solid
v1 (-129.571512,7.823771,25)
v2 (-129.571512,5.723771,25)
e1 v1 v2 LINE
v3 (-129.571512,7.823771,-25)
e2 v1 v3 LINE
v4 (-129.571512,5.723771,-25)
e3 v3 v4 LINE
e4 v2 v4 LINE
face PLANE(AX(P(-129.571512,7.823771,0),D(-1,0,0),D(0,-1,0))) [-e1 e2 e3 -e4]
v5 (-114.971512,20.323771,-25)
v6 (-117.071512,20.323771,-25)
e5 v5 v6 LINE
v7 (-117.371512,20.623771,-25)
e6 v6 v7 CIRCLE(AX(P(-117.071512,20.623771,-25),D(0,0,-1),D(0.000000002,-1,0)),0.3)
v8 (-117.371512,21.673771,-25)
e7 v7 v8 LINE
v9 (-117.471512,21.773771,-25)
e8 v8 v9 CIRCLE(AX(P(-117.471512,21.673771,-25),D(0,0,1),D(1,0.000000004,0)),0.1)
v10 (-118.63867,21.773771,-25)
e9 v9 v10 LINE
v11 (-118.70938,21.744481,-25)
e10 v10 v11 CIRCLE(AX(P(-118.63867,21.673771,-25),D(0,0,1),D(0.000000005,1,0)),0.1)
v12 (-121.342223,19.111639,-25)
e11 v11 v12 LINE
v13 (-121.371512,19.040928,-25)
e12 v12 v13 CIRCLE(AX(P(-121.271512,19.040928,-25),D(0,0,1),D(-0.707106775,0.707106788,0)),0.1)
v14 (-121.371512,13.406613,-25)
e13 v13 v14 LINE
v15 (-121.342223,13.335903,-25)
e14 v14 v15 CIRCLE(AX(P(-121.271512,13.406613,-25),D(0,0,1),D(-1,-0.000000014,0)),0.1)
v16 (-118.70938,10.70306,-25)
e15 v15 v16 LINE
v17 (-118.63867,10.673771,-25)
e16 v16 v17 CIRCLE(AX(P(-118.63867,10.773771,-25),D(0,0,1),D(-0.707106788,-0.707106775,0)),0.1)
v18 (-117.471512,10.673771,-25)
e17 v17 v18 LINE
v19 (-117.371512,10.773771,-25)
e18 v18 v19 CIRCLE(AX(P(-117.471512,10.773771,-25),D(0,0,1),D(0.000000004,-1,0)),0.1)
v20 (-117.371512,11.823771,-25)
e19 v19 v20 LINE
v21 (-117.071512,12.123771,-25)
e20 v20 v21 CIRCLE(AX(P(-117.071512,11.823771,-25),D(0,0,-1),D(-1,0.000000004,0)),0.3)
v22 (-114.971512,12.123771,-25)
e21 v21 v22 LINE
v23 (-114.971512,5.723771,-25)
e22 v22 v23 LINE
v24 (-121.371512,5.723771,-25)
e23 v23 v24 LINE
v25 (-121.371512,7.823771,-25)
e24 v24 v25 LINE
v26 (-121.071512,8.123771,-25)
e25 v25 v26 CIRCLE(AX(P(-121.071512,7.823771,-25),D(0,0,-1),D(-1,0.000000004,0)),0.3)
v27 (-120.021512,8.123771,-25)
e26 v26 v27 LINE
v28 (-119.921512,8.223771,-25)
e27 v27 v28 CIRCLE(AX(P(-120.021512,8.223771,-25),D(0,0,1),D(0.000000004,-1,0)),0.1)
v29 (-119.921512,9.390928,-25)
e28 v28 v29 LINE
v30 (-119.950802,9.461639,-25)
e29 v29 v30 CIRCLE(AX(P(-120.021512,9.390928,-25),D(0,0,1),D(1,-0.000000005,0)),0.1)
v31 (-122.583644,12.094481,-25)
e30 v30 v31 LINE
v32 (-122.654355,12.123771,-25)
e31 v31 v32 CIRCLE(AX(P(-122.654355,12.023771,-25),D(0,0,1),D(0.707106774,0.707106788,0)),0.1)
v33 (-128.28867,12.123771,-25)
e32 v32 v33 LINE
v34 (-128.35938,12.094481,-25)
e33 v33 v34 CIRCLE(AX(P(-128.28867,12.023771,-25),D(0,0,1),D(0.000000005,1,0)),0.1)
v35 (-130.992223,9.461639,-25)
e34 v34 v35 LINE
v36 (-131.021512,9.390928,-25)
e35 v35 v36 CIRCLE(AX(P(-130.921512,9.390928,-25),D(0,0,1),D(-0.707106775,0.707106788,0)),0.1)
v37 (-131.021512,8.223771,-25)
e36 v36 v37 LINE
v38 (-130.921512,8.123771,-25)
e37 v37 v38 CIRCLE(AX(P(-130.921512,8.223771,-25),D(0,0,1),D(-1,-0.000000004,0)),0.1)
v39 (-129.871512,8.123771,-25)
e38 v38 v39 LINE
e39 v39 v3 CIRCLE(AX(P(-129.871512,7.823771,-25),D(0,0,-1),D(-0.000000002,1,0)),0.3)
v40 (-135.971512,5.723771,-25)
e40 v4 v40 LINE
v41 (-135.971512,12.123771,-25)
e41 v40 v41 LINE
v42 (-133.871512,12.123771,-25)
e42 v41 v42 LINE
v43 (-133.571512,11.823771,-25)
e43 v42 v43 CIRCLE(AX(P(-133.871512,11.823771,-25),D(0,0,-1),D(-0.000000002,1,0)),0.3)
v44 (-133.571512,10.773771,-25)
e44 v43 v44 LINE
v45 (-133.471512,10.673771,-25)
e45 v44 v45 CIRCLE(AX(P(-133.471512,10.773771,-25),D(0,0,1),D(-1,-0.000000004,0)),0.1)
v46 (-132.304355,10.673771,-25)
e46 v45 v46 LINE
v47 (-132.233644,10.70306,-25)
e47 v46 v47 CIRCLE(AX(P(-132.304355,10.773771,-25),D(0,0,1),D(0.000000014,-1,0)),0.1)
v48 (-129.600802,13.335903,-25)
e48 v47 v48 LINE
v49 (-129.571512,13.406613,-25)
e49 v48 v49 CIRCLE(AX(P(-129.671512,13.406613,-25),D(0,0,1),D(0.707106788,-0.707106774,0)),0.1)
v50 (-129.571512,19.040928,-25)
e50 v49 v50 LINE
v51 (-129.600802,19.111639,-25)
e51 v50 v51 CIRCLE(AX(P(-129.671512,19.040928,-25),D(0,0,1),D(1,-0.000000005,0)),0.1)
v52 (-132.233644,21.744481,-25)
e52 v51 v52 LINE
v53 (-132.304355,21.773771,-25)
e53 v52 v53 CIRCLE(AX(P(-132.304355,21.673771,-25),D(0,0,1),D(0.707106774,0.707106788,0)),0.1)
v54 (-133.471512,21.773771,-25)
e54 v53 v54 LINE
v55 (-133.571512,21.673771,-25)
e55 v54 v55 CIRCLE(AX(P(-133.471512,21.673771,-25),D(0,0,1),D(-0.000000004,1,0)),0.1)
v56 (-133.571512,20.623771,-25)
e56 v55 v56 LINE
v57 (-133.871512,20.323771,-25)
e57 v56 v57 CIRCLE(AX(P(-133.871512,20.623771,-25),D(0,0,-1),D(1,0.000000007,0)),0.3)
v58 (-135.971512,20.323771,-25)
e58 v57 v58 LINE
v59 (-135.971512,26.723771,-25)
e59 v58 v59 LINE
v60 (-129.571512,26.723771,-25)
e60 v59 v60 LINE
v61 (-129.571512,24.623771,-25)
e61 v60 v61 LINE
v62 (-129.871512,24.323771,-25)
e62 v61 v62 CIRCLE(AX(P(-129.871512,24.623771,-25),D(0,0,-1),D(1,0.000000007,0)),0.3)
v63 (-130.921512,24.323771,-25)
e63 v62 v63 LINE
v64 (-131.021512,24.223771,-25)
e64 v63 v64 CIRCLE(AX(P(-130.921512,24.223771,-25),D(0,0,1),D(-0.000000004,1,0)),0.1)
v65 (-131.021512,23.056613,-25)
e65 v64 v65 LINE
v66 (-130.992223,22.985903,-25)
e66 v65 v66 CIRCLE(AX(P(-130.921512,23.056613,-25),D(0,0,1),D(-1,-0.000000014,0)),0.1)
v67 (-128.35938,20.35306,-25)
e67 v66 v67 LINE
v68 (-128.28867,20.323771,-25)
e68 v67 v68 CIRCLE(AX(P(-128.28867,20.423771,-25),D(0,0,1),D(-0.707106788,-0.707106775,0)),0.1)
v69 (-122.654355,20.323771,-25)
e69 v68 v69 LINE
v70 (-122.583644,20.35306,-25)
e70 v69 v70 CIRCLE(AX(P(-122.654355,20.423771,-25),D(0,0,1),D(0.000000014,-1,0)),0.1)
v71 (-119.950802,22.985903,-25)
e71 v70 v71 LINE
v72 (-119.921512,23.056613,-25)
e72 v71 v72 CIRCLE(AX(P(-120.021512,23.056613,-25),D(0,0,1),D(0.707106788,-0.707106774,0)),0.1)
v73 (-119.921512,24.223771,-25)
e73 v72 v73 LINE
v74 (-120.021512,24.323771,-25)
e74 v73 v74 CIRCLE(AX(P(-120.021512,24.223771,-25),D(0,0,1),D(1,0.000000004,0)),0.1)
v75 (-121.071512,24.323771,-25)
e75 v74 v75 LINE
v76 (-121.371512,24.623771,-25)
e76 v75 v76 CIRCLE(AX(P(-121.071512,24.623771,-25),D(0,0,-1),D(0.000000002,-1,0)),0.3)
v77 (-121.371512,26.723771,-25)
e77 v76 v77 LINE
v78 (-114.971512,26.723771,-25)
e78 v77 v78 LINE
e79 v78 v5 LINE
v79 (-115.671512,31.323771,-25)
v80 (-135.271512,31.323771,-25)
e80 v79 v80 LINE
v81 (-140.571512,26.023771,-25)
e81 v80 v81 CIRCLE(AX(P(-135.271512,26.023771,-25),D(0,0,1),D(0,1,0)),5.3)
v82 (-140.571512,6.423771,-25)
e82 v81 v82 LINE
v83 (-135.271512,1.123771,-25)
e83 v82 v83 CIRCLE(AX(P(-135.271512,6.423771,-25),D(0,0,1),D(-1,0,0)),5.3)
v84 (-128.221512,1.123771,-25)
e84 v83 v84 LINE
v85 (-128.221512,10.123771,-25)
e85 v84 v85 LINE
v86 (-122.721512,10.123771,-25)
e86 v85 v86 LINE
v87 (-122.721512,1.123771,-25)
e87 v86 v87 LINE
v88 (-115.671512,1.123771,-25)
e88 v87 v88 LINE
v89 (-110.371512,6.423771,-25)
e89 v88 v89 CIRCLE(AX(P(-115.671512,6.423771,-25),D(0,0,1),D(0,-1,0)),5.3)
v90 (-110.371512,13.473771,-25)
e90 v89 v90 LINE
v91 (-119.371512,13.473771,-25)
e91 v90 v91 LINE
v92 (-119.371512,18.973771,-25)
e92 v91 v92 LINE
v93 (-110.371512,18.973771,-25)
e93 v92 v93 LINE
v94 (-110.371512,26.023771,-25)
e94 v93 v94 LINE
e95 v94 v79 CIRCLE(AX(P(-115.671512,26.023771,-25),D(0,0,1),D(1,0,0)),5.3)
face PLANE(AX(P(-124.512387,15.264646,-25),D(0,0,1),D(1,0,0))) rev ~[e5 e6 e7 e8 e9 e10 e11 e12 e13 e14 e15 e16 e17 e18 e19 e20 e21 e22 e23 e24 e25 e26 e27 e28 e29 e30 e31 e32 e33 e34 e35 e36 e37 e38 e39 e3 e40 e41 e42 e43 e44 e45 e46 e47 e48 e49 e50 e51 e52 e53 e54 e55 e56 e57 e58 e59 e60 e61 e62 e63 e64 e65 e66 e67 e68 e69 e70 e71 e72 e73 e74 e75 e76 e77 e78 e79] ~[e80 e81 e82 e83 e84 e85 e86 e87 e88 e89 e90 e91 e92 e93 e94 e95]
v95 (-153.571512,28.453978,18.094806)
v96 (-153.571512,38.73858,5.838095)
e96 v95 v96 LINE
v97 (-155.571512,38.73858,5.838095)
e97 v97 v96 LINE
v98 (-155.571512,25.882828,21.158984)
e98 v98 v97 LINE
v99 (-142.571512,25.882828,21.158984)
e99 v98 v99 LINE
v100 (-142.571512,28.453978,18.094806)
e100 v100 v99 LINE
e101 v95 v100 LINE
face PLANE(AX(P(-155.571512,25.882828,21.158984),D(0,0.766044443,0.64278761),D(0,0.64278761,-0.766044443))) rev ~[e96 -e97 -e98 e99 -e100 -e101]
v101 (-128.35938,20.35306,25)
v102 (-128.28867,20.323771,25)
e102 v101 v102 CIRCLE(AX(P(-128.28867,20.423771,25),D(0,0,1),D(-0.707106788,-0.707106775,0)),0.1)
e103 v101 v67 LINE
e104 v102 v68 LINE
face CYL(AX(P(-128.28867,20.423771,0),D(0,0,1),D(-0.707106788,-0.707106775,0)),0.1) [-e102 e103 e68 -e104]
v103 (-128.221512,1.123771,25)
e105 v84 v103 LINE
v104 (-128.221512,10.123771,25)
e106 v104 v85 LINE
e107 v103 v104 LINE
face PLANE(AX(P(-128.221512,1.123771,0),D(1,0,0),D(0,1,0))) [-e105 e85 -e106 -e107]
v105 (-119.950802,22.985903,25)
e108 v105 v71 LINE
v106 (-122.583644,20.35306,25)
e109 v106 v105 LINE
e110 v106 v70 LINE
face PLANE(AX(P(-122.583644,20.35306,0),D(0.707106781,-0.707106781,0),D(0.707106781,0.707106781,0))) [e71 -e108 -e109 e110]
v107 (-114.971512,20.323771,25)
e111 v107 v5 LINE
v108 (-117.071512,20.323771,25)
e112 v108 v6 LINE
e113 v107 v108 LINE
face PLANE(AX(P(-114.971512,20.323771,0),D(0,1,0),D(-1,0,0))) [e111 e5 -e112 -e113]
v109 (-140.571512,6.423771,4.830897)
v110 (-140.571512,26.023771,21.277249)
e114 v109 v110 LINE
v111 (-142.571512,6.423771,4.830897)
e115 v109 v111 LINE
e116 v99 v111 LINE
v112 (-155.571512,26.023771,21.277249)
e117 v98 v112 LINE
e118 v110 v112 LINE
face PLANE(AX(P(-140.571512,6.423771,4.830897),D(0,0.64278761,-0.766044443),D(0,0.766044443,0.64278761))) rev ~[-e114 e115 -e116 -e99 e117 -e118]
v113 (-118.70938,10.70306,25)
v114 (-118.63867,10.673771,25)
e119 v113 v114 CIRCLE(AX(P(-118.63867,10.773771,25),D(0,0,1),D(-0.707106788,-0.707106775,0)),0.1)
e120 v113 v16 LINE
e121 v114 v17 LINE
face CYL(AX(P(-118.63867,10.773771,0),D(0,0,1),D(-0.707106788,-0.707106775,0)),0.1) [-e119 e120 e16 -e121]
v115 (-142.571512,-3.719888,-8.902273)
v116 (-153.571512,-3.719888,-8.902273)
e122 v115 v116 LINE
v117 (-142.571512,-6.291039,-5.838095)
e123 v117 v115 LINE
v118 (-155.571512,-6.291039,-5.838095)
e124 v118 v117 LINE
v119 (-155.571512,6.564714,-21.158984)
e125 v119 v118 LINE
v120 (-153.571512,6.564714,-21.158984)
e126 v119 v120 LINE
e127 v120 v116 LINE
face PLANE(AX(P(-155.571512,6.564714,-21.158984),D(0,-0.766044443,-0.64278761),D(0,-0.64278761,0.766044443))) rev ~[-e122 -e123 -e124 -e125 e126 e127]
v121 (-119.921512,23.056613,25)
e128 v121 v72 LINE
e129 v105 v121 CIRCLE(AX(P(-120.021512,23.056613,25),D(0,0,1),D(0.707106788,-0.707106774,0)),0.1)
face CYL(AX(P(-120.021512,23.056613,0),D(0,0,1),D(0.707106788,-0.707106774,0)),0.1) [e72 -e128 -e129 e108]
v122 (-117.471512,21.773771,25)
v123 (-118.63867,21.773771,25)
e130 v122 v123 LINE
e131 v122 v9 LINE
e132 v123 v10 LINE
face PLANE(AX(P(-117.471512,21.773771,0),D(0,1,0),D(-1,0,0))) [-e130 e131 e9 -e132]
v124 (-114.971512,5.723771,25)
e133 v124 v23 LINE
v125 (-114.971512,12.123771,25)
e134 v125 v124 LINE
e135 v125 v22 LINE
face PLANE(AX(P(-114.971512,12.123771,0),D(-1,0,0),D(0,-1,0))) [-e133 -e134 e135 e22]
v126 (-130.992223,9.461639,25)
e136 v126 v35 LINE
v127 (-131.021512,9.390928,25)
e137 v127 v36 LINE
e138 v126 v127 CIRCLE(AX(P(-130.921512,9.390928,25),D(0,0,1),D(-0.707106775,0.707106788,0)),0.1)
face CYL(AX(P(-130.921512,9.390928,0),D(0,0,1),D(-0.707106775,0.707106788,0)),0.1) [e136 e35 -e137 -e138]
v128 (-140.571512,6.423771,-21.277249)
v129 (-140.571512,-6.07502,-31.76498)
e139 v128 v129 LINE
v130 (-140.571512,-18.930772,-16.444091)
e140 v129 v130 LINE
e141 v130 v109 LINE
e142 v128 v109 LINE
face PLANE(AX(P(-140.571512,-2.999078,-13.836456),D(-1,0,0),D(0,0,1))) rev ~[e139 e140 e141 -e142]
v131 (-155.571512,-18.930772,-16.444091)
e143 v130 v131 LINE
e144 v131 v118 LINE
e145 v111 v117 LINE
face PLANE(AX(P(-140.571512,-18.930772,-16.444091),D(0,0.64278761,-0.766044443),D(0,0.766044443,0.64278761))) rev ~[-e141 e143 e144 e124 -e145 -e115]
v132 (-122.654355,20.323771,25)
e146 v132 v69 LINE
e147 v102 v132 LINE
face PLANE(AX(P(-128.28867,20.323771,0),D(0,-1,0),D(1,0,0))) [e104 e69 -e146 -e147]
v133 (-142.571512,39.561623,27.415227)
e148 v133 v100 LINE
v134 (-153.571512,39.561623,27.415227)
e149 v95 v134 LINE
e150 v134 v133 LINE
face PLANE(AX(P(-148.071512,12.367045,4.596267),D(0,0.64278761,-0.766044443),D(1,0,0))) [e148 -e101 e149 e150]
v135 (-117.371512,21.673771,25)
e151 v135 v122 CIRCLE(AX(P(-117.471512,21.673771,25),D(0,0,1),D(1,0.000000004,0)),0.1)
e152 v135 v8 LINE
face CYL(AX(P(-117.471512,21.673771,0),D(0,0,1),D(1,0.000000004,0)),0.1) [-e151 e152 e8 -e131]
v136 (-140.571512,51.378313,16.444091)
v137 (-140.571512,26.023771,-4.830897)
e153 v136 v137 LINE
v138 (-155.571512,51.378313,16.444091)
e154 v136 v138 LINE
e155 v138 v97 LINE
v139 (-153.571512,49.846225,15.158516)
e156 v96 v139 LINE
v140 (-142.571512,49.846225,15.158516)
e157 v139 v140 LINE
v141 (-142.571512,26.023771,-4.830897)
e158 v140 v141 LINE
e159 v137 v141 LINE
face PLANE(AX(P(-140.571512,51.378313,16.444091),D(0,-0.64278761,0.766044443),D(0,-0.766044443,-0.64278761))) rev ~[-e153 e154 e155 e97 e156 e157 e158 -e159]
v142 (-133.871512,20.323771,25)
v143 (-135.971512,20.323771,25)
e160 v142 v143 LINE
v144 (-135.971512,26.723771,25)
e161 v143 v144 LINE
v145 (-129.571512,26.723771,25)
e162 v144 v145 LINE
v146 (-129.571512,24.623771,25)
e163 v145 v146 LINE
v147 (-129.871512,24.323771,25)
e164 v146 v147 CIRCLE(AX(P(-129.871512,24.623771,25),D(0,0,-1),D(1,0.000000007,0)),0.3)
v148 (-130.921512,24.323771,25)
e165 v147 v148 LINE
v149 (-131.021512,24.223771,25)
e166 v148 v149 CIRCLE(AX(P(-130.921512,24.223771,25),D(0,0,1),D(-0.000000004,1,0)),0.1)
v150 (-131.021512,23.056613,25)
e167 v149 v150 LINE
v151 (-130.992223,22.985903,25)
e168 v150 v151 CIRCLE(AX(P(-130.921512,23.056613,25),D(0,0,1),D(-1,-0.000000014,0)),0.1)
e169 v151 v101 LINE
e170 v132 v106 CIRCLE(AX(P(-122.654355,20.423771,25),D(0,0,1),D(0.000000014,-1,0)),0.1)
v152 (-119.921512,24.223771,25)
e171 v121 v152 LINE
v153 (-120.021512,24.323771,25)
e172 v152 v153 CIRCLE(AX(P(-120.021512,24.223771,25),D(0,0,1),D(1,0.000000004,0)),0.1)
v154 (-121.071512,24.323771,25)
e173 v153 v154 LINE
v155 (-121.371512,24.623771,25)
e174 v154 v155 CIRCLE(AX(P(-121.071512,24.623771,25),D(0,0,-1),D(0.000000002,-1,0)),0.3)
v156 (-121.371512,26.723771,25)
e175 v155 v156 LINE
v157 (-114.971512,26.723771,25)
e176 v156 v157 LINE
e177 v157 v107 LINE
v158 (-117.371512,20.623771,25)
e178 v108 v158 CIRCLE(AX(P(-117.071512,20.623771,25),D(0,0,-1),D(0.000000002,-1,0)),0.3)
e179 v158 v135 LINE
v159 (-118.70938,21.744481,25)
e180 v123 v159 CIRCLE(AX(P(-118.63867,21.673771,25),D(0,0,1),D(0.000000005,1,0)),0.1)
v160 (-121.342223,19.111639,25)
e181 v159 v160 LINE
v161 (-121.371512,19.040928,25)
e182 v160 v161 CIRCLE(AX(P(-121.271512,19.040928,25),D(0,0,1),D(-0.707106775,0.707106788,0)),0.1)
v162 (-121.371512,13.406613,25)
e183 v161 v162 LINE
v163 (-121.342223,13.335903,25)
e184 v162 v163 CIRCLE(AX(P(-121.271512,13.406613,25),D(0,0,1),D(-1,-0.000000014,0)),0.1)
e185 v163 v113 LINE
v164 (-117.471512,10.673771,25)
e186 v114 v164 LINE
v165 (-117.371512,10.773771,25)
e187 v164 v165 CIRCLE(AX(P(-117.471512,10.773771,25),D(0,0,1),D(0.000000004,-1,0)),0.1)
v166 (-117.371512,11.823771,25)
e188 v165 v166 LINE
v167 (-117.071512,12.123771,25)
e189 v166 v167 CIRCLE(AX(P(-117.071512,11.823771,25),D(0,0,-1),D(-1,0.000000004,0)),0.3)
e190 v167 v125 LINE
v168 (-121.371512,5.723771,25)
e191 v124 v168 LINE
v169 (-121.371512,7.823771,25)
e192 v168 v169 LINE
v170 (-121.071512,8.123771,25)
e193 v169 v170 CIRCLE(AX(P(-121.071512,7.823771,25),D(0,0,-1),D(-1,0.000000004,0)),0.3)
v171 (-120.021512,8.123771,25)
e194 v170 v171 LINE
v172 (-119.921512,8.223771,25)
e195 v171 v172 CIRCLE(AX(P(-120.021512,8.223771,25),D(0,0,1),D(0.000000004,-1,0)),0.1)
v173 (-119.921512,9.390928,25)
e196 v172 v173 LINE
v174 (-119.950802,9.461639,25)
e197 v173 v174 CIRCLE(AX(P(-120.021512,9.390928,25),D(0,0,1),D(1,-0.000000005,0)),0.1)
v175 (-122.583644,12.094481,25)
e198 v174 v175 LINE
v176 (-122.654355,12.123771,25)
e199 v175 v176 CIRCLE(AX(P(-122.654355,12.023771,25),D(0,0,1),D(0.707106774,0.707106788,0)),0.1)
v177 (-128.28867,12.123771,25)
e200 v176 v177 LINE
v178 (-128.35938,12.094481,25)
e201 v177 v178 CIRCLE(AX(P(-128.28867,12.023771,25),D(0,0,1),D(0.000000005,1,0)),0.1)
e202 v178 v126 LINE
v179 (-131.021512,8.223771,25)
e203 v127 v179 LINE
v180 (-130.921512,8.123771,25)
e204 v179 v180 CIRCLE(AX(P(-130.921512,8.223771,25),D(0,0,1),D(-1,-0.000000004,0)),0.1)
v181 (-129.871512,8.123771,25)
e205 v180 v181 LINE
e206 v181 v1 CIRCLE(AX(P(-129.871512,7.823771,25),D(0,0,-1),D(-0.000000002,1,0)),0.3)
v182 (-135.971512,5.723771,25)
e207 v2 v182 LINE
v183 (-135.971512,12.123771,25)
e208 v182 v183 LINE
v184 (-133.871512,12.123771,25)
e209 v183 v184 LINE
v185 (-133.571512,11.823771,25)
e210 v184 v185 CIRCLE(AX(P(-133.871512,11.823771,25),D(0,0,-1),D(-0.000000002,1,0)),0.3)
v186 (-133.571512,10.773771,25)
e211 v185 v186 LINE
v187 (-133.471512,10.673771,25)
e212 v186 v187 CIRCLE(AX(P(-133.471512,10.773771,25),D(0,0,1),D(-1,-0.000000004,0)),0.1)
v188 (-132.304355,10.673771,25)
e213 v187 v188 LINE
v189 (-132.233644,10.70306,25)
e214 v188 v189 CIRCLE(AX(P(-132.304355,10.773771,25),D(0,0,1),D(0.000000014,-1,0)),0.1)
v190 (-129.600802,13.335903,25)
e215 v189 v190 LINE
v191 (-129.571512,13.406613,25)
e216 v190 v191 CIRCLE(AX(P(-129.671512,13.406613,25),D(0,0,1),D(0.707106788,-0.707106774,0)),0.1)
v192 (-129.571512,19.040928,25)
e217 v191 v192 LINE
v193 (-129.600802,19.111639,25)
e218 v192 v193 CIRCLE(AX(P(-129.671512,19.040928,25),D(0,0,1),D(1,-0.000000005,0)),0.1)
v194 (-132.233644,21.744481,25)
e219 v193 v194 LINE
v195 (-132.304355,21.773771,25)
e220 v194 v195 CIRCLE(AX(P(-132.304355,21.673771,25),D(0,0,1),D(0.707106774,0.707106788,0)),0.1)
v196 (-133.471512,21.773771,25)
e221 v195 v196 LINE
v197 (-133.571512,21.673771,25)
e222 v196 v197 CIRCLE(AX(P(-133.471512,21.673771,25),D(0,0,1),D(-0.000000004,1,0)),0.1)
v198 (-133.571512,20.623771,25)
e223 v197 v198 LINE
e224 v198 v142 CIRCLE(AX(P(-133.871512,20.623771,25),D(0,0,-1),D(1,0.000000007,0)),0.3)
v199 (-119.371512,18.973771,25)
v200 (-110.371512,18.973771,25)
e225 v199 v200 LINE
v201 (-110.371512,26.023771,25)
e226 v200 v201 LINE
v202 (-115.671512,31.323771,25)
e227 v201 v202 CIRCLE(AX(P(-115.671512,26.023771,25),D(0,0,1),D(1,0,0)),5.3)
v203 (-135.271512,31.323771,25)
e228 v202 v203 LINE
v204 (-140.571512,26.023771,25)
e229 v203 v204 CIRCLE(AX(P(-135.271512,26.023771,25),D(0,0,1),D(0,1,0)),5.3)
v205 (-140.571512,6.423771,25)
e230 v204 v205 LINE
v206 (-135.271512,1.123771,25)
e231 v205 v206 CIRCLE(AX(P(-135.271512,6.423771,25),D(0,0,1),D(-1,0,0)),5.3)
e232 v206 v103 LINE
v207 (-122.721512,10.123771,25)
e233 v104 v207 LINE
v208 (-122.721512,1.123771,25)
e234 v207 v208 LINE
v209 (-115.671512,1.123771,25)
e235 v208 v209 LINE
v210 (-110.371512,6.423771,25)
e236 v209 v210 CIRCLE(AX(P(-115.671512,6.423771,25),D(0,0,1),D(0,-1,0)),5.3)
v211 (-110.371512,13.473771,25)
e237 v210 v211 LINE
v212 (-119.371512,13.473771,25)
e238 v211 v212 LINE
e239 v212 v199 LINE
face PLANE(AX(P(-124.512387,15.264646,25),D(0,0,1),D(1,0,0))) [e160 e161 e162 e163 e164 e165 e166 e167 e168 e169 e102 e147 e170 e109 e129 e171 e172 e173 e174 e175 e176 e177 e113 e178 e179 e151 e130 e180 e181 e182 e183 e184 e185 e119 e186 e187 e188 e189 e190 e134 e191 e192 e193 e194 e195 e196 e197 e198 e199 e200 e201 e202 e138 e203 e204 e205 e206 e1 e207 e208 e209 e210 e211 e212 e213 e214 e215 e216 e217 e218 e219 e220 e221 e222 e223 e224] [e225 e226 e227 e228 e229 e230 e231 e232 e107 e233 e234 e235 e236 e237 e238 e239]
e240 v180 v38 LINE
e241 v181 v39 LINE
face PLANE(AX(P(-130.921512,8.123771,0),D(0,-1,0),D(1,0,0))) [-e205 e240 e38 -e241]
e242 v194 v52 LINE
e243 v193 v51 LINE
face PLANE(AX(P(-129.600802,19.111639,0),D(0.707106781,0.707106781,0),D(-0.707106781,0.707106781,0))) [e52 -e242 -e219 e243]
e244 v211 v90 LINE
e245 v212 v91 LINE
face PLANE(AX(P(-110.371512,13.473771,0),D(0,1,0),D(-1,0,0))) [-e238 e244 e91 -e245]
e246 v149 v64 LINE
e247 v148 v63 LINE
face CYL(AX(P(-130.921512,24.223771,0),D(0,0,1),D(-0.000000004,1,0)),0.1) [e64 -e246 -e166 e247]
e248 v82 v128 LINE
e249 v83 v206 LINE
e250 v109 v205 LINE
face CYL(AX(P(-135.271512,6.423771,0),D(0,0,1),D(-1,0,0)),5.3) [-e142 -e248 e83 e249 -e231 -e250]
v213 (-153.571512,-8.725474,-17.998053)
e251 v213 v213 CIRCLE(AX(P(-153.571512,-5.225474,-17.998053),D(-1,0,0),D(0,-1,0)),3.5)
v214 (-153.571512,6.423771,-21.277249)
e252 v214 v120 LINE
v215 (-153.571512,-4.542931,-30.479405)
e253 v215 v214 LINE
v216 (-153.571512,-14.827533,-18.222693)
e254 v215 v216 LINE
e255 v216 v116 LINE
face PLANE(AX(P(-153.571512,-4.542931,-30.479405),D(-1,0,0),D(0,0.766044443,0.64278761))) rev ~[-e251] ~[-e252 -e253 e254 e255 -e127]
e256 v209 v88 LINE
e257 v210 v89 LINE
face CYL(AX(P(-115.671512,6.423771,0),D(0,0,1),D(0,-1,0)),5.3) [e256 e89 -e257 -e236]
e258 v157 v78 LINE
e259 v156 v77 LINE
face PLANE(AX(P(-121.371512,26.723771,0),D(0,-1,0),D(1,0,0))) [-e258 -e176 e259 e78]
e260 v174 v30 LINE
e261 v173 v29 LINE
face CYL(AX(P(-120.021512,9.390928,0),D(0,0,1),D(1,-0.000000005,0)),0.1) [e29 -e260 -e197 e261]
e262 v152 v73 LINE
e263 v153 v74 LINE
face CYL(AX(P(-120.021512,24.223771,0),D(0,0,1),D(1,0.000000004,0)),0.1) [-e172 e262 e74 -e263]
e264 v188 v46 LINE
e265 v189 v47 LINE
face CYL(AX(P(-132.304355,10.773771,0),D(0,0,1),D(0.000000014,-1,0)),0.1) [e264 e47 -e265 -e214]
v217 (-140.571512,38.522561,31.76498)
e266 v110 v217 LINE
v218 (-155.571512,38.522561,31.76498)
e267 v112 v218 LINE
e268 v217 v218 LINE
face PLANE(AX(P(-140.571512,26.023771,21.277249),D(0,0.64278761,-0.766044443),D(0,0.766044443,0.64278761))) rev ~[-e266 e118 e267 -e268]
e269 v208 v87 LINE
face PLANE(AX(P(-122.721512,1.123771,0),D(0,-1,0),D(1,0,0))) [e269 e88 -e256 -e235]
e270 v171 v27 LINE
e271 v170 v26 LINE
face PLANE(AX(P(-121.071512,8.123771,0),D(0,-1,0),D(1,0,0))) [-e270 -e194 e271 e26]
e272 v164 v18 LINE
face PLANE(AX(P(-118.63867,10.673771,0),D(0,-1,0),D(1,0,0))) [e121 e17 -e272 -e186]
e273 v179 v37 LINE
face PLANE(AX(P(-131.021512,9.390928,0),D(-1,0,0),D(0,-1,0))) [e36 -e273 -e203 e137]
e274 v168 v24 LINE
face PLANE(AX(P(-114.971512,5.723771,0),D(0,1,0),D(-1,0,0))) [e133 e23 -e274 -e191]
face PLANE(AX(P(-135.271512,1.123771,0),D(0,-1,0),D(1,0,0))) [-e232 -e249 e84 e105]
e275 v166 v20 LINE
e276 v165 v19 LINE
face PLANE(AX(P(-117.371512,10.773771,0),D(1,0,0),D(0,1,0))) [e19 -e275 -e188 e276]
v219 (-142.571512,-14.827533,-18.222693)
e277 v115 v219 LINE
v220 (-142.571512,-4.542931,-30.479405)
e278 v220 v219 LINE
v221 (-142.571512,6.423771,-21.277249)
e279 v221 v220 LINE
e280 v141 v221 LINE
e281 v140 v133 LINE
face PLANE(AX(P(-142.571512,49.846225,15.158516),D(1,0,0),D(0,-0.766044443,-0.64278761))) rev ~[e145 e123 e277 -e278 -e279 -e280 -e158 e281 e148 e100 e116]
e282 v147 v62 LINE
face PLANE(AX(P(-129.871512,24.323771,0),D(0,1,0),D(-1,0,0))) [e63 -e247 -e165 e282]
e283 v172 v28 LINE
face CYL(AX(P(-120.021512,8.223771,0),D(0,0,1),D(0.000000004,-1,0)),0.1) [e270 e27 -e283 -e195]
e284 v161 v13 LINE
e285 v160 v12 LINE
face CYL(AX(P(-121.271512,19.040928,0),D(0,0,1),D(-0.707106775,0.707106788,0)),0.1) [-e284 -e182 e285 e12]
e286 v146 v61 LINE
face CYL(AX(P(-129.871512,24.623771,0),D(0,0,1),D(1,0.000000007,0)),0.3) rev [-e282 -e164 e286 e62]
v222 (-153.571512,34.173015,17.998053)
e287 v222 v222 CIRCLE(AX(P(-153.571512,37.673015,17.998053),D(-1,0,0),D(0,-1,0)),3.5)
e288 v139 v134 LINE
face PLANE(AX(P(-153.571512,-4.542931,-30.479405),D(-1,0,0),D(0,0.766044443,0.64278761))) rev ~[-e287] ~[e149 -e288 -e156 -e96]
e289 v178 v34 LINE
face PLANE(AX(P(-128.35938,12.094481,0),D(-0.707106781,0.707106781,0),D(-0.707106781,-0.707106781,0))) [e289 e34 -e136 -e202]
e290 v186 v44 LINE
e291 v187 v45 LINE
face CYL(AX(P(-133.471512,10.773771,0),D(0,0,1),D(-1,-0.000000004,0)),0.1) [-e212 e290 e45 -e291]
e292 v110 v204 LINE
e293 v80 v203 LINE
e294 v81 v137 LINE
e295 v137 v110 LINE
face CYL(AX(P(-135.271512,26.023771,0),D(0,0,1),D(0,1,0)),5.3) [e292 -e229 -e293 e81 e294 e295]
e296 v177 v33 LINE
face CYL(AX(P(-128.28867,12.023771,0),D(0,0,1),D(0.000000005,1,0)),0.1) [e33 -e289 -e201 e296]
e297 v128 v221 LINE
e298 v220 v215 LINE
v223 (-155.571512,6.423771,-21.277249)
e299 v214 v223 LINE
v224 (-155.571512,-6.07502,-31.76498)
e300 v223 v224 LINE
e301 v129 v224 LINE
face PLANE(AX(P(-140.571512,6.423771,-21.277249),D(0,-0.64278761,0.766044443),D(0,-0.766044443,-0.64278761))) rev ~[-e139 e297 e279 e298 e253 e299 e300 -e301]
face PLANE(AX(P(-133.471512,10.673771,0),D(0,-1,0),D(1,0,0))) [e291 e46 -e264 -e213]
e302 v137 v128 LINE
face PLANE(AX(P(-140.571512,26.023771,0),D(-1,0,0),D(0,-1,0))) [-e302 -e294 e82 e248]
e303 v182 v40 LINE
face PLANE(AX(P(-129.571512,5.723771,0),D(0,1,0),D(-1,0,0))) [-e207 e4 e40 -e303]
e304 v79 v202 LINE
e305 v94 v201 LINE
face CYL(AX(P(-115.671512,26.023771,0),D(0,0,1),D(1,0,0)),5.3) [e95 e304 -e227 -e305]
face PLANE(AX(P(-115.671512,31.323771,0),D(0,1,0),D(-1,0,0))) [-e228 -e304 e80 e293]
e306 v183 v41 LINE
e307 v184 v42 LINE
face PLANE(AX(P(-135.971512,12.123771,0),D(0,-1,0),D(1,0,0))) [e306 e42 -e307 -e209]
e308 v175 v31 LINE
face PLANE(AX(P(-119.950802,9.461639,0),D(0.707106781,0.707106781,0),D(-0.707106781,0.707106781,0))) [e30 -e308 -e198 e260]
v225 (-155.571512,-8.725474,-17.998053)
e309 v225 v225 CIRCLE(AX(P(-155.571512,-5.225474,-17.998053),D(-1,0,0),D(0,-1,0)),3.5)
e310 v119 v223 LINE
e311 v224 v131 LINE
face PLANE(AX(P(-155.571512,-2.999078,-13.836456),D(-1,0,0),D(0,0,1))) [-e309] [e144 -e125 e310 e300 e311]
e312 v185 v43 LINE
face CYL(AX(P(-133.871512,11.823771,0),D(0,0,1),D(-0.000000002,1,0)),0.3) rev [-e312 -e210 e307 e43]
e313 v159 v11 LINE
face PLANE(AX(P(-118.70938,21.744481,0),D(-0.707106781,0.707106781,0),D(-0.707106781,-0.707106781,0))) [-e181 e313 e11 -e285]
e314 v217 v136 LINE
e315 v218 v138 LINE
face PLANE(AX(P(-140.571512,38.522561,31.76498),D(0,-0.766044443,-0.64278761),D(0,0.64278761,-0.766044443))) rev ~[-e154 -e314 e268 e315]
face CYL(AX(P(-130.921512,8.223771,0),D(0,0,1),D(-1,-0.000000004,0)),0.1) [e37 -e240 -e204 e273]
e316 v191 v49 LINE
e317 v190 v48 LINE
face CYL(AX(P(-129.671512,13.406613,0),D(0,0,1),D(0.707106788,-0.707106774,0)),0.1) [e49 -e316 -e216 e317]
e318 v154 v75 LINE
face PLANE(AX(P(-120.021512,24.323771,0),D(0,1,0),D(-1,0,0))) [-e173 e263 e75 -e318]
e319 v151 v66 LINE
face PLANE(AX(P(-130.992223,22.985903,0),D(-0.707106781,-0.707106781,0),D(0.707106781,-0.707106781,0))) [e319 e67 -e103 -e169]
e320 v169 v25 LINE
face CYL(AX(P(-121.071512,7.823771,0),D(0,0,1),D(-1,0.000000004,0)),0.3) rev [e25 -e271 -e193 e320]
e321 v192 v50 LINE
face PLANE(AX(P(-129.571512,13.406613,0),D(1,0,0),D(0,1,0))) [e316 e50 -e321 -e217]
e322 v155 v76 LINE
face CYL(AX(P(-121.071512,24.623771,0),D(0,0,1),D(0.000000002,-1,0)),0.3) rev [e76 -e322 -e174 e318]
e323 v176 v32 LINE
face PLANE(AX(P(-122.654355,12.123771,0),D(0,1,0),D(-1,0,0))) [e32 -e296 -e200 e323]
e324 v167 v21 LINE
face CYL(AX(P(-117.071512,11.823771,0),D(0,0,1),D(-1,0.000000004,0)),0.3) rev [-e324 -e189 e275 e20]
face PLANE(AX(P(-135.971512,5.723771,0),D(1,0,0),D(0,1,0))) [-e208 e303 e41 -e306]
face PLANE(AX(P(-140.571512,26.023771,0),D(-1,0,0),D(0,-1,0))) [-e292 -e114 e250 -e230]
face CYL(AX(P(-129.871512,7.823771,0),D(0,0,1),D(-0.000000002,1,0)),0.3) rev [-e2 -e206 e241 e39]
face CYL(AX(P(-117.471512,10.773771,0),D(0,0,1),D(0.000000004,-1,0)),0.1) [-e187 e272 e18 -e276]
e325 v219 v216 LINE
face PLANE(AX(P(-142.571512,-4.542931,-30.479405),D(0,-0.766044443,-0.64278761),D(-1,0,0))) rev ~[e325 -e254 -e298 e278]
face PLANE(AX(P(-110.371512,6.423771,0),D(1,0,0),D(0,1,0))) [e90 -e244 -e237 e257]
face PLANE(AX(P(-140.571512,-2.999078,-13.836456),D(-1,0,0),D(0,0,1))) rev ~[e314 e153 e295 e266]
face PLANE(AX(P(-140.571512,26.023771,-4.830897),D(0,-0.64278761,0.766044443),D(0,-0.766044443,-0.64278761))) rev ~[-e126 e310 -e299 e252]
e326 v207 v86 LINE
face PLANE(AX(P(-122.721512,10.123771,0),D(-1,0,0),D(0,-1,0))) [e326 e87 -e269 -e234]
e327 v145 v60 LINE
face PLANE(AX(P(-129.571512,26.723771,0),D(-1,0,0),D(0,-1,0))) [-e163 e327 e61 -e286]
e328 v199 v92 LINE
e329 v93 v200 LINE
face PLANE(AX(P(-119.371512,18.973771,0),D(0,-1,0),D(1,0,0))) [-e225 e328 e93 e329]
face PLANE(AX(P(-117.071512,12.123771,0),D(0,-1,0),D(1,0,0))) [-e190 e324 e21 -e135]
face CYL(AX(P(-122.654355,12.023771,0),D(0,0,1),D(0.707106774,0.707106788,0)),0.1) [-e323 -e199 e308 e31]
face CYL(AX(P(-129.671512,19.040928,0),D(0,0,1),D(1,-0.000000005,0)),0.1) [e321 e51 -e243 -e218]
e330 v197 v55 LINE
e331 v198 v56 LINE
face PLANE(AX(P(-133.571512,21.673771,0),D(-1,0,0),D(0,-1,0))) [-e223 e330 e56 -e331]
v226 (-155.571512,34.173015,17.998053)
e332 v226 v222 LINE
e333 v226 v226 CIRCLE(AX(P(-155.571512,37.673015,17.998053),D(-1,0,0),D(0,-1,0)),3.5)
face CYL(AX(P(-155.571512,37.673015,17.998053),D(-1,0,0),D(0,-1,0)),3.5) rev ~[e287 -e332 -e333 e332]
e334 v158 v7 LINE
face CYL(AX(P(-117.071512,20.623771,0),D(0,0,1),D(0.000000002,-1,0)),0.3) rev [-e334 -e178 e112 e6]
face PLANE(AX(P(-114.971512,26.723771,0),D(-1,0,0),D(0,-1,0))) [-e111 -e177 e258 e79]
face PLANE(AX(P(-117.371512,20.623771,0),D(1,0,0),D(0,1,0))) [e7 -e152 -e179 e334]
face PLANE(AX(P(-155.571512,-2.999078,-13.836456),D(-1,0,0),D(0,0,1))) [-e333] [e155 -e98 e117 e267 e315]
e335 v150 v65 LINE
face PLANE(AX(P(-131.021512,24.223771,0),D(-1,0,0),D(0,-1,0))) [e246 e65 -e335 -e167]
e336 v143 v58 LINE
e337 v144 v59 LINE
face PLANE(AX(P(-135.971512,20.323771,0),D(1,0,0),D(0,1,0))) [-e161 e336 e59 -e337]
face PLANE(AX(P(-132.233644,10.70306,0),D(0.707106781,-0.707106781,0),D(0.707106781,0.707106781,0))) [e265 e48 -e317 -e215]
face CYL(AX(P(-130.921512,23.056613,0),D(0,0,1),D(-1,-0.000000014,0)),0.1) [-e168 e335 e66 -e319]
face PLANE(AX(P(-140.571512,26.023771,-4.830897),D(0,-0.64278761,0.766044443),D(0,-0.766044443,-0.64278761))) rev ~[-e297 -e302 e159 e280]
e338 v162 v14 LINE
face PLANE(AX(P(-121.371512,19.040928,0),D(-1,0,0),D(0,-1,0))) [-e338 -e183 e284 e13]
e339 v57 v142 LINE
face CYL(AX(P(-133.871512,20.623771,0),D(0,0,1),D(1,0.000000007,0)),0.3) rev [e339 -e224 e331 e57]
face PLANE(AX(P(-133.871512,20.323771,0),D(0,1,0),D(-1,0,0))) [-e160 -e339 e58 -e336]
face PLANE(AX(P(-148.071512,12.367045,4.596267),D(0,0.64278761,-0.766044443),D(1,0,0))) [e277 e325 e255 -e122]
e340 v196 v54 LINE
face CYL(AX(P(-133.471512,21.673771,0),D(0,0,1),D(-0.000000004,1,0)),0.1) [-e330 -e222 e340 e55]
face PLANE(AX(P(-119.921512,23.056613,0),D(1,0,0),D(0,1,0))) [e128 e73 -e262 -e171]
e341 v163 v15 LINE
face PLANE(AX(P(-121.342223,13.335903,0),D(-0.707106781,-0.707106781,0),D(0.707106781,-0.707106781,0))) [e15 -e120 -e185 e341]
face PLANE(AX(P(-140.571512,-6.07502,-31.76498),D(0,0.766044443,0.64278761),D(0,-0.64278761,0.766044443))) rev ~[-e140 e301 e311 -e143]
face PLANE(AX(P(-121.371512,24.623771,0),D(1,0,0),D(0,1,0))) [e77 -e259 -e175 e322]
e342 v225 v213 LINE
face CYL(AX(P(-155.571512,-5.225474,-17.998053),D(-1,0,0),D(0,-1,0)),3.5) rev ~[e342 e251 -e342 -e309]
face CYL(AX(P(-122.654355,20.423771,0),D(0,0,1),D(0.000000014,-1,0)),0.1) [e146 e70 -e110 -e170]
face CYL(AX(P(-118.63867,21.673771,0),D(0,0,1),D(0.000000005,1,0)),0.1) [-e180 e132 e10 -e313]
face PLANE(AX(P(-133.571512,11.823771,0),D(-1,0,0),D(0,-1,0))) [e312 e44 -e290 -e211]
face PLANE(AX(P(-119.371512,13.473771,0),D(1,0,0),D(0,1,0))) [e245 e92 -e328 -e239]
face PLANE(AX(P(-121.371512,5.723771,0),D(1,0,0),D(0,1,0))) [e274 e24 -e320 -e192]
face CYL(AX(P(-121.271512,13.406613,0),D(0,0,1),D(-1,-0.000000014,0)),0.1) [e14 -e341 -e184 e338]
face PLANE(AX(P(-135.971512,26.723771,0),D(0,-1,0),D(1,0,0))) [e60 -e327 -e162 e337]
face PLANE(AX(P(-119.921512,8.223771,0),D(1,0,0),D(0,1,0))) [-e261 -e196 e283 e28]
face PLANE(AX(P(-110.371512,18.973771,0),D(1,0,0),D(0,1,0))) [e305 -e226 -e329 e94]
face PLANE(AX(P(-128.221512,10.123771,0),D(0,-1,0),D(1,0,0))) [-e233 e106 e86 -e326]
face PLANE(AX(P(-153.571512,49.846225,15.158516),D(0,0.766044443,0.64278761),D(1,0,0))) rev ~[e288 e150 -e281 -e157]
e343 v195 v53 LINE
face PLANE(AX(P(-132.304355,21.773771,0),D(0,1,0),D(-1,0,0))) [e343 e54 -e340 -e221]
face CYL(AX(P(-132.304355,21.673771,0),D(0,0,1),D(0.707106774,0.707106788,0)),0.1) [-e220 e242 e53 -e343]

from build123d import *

# Parameters (mm, degrees)
Y_KSEKLIK_EKSTR_ZYON3_DEPTH = 25
Y_KSEKLIK_EKSTR_ZYON4_DEPTH = 15
IZIM11_R                    = 3.5
KES_EKSTR_ZYON3_DEPTH       = 10
KES_EKSTR_ZYON4_DEPTH       = 16
KES_EKSTR_ZYON5_REACH       = 77.444


with BuildPart() as part:
    # Çizim6 → Yükseklik-Ekstrüzyon3 (new, symmetric)
    with BuildSketch(Plane.XY):
        with BuildLine():
            Line((-119.371512251, 18.973770729), (-115.371512251, 18.973770729))
            Line((-115.371512251, 18.973770729), (-110.371512251, 18.973770729))
            Line((-110.371512251, 18.973770729), (-110.371512251, 20.773770729))
            Line((-110.371512251, 20.773770729), (-110.371512251, 26.023770729))
            ThreePointArc((-110.371512251, 26.023770729), (-111.92384631, 29.771436669), (-115.671512251, 31.323770729))
            Line((-115.671512251, 31.323770729), (-120.921512251, 31.323770729))
            Line((-120.921512251, 31.323770729), (-122.721512251, 31.323770729))
            Line((-122.721512251, 31.323770729), (-128.221512251, 31.323770729))
            Line((-128.221512251, 31.323770729), (-130.021512251, 31.323770729))
            Line((-130.021512251, 31.323770729), (-135.271512251, 31.323770729))
            ThreePointArc((-135.271512251, 31.323770729), (-139.019178191, 29.771436669), (-140.571512251, 26.023770729))
            Line((-140.571512251, 26.023770729), (-140.571512251, 20.773770729))
            Line((-140.571512251, 20.773770729), (-140.571512251, 16.223770729))
            Line((-140.571512251, 16.223770729), (-140.571512251, 11.673770729))
            Line((-140.571512251, 11.673770729), (-140.571512251, 6.423770729))
            ThreePointArc((-140.571512251, 6.423770729), (-139.019178191, 2.676104789), (-135.271512251, 1.123770729))
            Line((-135.271512251, 1.123770729), (-130.021512251, 1.123770729))
            Line((-130.021512251, 1.123770729), (-128.221512251, 1.123770729))
            Line((-128.221512251, 1.123770729), (-128.221512251, 6.123770729))
            Line((-128.221512251, 6.123770729), (-128.221512251, 10.123770729))
            Line((-128.221512251, 10.123770729), (-122.721512251, 10.123770729))
            Line((-122.721512251, 10.123770729), (-122.721512251, 6.123770729))
            Line((-122.721512251, 6.123770729), (-122.721512251, 1.123770729))
            Line((-122.721512251, 1.123770729), (-120.921512251, 1.123770729))
            Line((-120.921512251, 1.123770729), (-115.671512251, 1.123770729))
            ThreePointArc((-115.671512251, 1.123770729), (-111.92384631, 2.676104789), (-110.371512251, 6.423770729))
            Line((-110.371512251, 6.423770729), (-110.371512251, 11.673770729))
            Line((-110.371512251, 11.673770729), (-110.371512251, 13.473770729))
            Line((-110.371512251, 13.473770729), (-115.371512251, 13.473770729))
            Line((-115.371512251, 13.473770729), (-119.371512251, 13.473770729))
            Line((-119.371512251, 13.473770729), (-119.371512251, 18.973770729))
        make_face()
        with BuildLine():
            Line((-133.871512251, 20.323770729), (-135.071512251, 20.323770729))
            Line((-135.071512251, 20.323770729), (-135.871512251, 20.323770729))
            Line((-135.871512251, 20.323770729), (-135.971512251, 20.323770729))
            Line((-135.971512251, 20.323770729), (-135.971512251, 26.723770729))
            Line((-135.971512251, 26.723770729), (-129.571512251, 26.723770729))
            Line((-129.571512251, 26.723770729), (-129.571512251, 26.623770729))
            Line((-129.571512251, 26.623770729), (-129.571512251, 25.823770729))
            Line((-129.571512251, 25.823770729), (-129.571512251, 24.623770729))
            ThreePointArc((-129.571512251, 24.623770729), (-129.659380216, 24.411638694), (-129.871512251, 24.323770729))
            Line((-129.871512251, 24.323770729), (-130.921512251, 24.323770729))
            ThreePointArc((-130.921512251, 24.323770729), (-130.992222929, 24.294481407), (-131.021512251, 24.223770729))
            Line((-131.021512251, 24.223770729), (-131.021512251, 23.056613441))
            ThreePointArc((-131.021512251, 23.056613441), (-131.013900204, 23.018345098), (-130.992222929, 22.985902763))
            Line((-130.992222929, 22.985902763), (-128.359380216, 20.353060051))
            ThreePointArc((-128.359380216, 20.353060051), (-128.326937882, 20.331382776), (-128.288669538, 20.323770729))
            Line((-128.288669538, 20.323770729), (-122.654354963, 20.323770729))
            ThreePointArc((-122.654354963, 20.323770729), (-122.61608662, 20.331382776), (-122.583644285, 20.353060051))
            Line((-122.583644285, 20.353060051), (-119.950801573, 22.985902763))
            ThreePointArc((-119.950801573, 22.985902763), (-119.929124298, 23.018345098), (-119.921512251, 23.056613441))
            Line((-119.921512251, 23.056613441), (-119.921512251, 24.223770729))
            ThreePointArc((-119.921512251, 24.223770729), (-119.950801573, 24.294481407), (-120.021512251, 24.323770729))
            Line((-120.021512251, 24.323770729), (-121.071512251, 24.323770729))
            ThreePointArc((-121.071512251, 24.323770729), (-121.283644285, 24.411638694), (-121.371512251, 24.623770729))
            Line((-121.371512251, 24.623770729), (-121.371512251, 25.823770729))
            Line((-121.371512251, 25.823770729), (-121.371512251, 26.323770729))
            Line((-121.371512251, 26.323770729), (-121.371512251, 26.723770729))
            Line((-121.371512251, 26.723770729), (-114.971512251, 26.723770729))
            Line((-114.971512251, 26.723770729), (-114.971512251, 20.323770729))
            Line((-114.971512251, 20.323770729), (-115.371512251, 20.323770729))
            Line((-115.371512251, 20.323770729), (-115.871512251, 20.323770729))
            Line((-115.871512251, 20.323770729), (-117.071512251, 20.323770729))
            ThreePointArc((-117.071512251, 20.323770729), (-117.283644285, 20.411638694), (-117.371512251, 20.623770729))
            Line((-117.371512251, 20.623770729), (-117.371512251, 21.673770729))
            ThreePointArc((-117.371512251, 21.673770729), (-117.400801573, 21.744481407), (-117.471512251, 21.773770729))
            Line((-117.471512251, 21.773770729), (-118.638669538, 21.773770729))
            ThreePointArc((-118.638669538, 21.773770729), (-118.676937882, 21.766158682), (-118.709380216, 21.744481407))
            Line((-118.709380216, 21.744481407), (-121.342222929, 19.111638694))
            ThreePointArc((-121.342222929, 19.111638694), (-121.363900204, 19.07919636), (-121.371512251, 19.040928016))
            Line((-121.371512251, 19.040928016), (-121.371512251, 13.406613441))
            ThreePointArc((-121.371512251, 13.406613441), (-121.363900204, 13.368345098), (-121.342222929, 13.335902763))
            Line((-121.342222929, 13.335902763), (-118.709380216, 10.703060051))
            ThreePointArc((-118.709380216, 10.703060051), (-118.676937882, 10.681382776), (-118.638669538, 10.673770729))
            Line((-118.638669538, 10.673770729), (-117.471512251, 10.673770729))
            ThreePointArc((-117.471512251, 10.673770729), (-117.400801573, 10.703060051), (-117.371512251, 10.773770729))
            Line((-117.371512251, 10.773770729), (-117.371512251, 11.823770729))
            ThreePointArc((-117.371512251, 11.823770729), (-117.283644285, 12.035902763), (-117.071512251, 12.123770729))
            Line((-117.071512251, 12.123770729), (-115.871512251, 12.123770729))
            Line((-115.871512251, 12.123770729), (-115.371512251, 12.123770729))
            Line((-115.371512251, 12.123770729), (-114.971512251, 12.123770729))
            Line((-114.971512251, 12.123770729), (-114.971512251, 5.723770729))
            Line((-114.971512251, 5.723770729), (-121.371512251, 5.723770729))
            Line((-121.371512251, 5.723770729), (-121.371512251, 6.123770729))
            Line((-121.371512251, 6.123770729), (-121.371512251, 6.623770729))
            Line((-121.371512251, 6.623770729), (-121.371512251, 7.823770729))
            ThreePointArc((-121.371512251, 7.823770729), (-121.283644285, 8.035902763), (-121.071512251, 8.123770729))
            Line((-121.071512251, 8.123770729), (-120.021512251, 8.123770729))
            ThreePointArc((-120.021512251, 8.123770729), (-119.950801573, 8.153060051), (-119.921512251, 8.223770729))
            Line((-119.921512251, 8.223770729), (-119.921512251, 9.390928016))
            ThreePointArc((-119.921512251, 9.390928016), (-119.929124298, 9.42919636), (-119.950801573, 9.461638694))
            Line((-119.950801573, 9.461638694), (-122.583644285, 12.094481407))
            ThreePointArc((-122.583644285, 12.094481407), (-122.61608662, 12.116158682), (-122.654354963, 12.123770729))
            Line((-122.654354963, 12.123770729), (-128.288669538, 12.123770729))
            ThreePointArc((-128.288669538, 12.123770729), (-128.326937882, 12.116158682), (-128.359380216, 12.094481407))
            Line((-128.359380216, 12.094481407), (-130.992222929, 9.461638694))
            ThreePointArc((-130.992222929, 9.461638694), (-131.013900204, 9.42919636), (-131.021512251, 9.390928016))
            Line((-131.021512251, 9.390928016), (-131.021512251, 8.223770729))
            ThreePointArc((-131.021512251, 8.223770729), (-130.992222929, 8.153060051), (-130.921512251, 8.123770729))
            Line((-130.921512251, 8.123770729), (-129.871512251, 8.123770729))
            ThreePointArc((-129.871512251, 8.123770729), (-129.659380216, 8.035902763), (-129.571512251, 7.823770729))
            Line((-129.571512251, 7.823770729), (-129.571512251, 6.623770729))
            Line((-129.571512251, 6.623770729), (-129.571512251, 6.123770729))
            Line((-129.571512251, 6.123770729), (-129.571512251, 5.723770729))
            Line((-129.571512251, 5.723770729), (-135.971512251, 5.723770729))
            Line((-135.971512251, 5.723770729), (-135.971512251, 12.123770729))
            Line((-135.971512251, 12.123770729), (-135.571512251, 12.123770729))
            Line((-135.571512251, 12.123770729), (-135.071512251, 12.123770729))
            Line((-135.071512251, 12.123770729), (-133.871512251, 12.123770729))
            ThreePointArc((-133.871512251, 12.123770729), (-133.659380216, 12.035902763), (-133.571512251, 11.823770729))
            Line((-133.571512251, 11.823770729), (-133.571512251, 10.773770729))
            ThreePointArc((-133.571512251, 10.773770729), (-133.542222929, 10.703060051), (-133.471512251, 10.673770729))
            Line((-133.471512251, 10.673770729), (-132.304354963, 10.673770729))
            ThreePointArc((-132.304354963, 10.673770729), (-132.26608662, 10.681382776), (-132.233644285, 10.703060051))
            Line((-132.233644285, 10.703060051), (-129.600801573, 13.335902763))
            ThreePointArc((-129.600801573, 13.335902763), (-129.579124298, 13.368345098), (-129.571512251, 13.406613441))
            Line((-129.571512251, 13.406613441), (-129.571512251, 19.040928016))
            ThreePointArc((-129.571512251, 19.040928016), (-129.579124298, 19.07919636), (-129.600801573, 19.111638694))
            Line((-129.600801573, 19.111638694), (-132.233644285, 21.744481407))
            ThreePointArc((-132.233644285, 21.744481407), (-132.26608662, 21.766158682), (-132.304354963, 21.773770729))
            Line((-132.304354963, 21.773770729), (-133.471512251, 21.773770729))
            ThreePointArc((-133.471512251, 21.773770729), (-133.542222929, 21.744481407), (-133.571512251, 21.673770729))
            Line((-133.571512251, 21.673770729), (-133.571512251, 20.623770729))
            ThreePointArc((-133.571512251, 20.623770729), (-133.659380216, 20.411638694), (-133.871512251, 20.323770729))
        make_face(mode=Mode.SUBTRACT)
    extrude(amount=Y_KSEKLIK_EKSTR_ZYON3_DEPTH, both=True)

    # Çizim8 → Yükseklik-Ekstrüzyon4 (add)
    with BuildSketch(Plane.ZY.offset(140.571512251)):
        Polygon((4.830896508, 6.423770729), (-21.277249279, 6.423770729), (-31.764979794, -6.075019791), (-16.444090932, -18.930771985), align=None)
        Polygon((21.277249279, 26.023770729), (-4.830896508, 26.023770729), (-21.277249279, 6.423770729), (4.830896508, 6.423770729), align=None)
        Polygon((31.764979794, 38.522561249), (16.444090932, 51.378313443), (-4.830896508, 26.023770729), (21.277249279, 26.023770729), align=None)
    extrude(amount=Y_KSEKLIK_EKSTR_ZYON4_DEPTH)

    # Çizim11 → Kes-Ekstrüzyon3 (cut)
    with BuildSketch(Plane.ZY.offset(155.571512251)):
        with Locations(Location((17.998053071, 37.673015136, 0), (0, 0, 270))):
            Circle(IZIM11_R)
        with Locations(Location((-17.998053071, -5.225473678, 0), (0, 0, 270))):
            Circle(IZIM11_R)
    extrude(amount=-KES_EKSTR_ZYON3_DEPTH, mode=Mode.SUBTRACT)

    # Çizim12 → Kes-Ekstrüzyon4 (cut)
    with BuildSketch(Plane(origin=(0, 13.13114735, -15.64909203), x_dir=(1, 0, 0), z_dir=(-3.3982743057988596e-15, 0.6427876096865348, -0.7660444431189819))):
        Polygon((-142.571512251, 23.071870587), (-153.571512251, 23.071870587), (-153.571512251, -47.928129413), (-142.571512251, -47.928129413), (-142.571512251, -16.830124537), (-142.571512251, 8.755858334), align=None)
    extrude(amount=-KES_EKSTR_ZYON4_DEPTH, mode=Mode.SUBTRACT)

    # Kes-Ekstrüzyon5: up to this face of the body (flat: up to its plane)
    kes_ekstr_zyon5_end = Plane(part.part.faces().sort_by_distance((-142.571512251, 17.509345948, -1.532088886))[0])
    # Çizim13 → Kes-Ekstrüzyon5 (cut, up to the picked face)
    with BuildSketch(Plane.ZY.offset(155.571512251), mode=Mode.PRIVATE) as kes_ekstr_zyon5_sk1:
        Polygon((-21.158984235, 6.56471352), (-5.838095372, -6.291038674), (21.158984235, 25.882827937), (5.838095372, 38.738580131), align=None)
    kes_ekstr_zyon5_tool1 = split(extrude(kes_ekstr_zyon5_sk1.sketch, amount=-KES_EKSTR_ZYON5_REACH, mode=Mode.PRIVATE), bisect_by=kes_ekstr_zyon5_end, keep=Keep.BOTH, mode=Mode.PRIVATE)
    add(kes_ekstr_zyon5_tool1.solids().sort_by(Axis((-155.571512, 16.223771, 0), (1, 0, 0)))[0], mode=Mode.SUBTRACT)


solid = part.part
